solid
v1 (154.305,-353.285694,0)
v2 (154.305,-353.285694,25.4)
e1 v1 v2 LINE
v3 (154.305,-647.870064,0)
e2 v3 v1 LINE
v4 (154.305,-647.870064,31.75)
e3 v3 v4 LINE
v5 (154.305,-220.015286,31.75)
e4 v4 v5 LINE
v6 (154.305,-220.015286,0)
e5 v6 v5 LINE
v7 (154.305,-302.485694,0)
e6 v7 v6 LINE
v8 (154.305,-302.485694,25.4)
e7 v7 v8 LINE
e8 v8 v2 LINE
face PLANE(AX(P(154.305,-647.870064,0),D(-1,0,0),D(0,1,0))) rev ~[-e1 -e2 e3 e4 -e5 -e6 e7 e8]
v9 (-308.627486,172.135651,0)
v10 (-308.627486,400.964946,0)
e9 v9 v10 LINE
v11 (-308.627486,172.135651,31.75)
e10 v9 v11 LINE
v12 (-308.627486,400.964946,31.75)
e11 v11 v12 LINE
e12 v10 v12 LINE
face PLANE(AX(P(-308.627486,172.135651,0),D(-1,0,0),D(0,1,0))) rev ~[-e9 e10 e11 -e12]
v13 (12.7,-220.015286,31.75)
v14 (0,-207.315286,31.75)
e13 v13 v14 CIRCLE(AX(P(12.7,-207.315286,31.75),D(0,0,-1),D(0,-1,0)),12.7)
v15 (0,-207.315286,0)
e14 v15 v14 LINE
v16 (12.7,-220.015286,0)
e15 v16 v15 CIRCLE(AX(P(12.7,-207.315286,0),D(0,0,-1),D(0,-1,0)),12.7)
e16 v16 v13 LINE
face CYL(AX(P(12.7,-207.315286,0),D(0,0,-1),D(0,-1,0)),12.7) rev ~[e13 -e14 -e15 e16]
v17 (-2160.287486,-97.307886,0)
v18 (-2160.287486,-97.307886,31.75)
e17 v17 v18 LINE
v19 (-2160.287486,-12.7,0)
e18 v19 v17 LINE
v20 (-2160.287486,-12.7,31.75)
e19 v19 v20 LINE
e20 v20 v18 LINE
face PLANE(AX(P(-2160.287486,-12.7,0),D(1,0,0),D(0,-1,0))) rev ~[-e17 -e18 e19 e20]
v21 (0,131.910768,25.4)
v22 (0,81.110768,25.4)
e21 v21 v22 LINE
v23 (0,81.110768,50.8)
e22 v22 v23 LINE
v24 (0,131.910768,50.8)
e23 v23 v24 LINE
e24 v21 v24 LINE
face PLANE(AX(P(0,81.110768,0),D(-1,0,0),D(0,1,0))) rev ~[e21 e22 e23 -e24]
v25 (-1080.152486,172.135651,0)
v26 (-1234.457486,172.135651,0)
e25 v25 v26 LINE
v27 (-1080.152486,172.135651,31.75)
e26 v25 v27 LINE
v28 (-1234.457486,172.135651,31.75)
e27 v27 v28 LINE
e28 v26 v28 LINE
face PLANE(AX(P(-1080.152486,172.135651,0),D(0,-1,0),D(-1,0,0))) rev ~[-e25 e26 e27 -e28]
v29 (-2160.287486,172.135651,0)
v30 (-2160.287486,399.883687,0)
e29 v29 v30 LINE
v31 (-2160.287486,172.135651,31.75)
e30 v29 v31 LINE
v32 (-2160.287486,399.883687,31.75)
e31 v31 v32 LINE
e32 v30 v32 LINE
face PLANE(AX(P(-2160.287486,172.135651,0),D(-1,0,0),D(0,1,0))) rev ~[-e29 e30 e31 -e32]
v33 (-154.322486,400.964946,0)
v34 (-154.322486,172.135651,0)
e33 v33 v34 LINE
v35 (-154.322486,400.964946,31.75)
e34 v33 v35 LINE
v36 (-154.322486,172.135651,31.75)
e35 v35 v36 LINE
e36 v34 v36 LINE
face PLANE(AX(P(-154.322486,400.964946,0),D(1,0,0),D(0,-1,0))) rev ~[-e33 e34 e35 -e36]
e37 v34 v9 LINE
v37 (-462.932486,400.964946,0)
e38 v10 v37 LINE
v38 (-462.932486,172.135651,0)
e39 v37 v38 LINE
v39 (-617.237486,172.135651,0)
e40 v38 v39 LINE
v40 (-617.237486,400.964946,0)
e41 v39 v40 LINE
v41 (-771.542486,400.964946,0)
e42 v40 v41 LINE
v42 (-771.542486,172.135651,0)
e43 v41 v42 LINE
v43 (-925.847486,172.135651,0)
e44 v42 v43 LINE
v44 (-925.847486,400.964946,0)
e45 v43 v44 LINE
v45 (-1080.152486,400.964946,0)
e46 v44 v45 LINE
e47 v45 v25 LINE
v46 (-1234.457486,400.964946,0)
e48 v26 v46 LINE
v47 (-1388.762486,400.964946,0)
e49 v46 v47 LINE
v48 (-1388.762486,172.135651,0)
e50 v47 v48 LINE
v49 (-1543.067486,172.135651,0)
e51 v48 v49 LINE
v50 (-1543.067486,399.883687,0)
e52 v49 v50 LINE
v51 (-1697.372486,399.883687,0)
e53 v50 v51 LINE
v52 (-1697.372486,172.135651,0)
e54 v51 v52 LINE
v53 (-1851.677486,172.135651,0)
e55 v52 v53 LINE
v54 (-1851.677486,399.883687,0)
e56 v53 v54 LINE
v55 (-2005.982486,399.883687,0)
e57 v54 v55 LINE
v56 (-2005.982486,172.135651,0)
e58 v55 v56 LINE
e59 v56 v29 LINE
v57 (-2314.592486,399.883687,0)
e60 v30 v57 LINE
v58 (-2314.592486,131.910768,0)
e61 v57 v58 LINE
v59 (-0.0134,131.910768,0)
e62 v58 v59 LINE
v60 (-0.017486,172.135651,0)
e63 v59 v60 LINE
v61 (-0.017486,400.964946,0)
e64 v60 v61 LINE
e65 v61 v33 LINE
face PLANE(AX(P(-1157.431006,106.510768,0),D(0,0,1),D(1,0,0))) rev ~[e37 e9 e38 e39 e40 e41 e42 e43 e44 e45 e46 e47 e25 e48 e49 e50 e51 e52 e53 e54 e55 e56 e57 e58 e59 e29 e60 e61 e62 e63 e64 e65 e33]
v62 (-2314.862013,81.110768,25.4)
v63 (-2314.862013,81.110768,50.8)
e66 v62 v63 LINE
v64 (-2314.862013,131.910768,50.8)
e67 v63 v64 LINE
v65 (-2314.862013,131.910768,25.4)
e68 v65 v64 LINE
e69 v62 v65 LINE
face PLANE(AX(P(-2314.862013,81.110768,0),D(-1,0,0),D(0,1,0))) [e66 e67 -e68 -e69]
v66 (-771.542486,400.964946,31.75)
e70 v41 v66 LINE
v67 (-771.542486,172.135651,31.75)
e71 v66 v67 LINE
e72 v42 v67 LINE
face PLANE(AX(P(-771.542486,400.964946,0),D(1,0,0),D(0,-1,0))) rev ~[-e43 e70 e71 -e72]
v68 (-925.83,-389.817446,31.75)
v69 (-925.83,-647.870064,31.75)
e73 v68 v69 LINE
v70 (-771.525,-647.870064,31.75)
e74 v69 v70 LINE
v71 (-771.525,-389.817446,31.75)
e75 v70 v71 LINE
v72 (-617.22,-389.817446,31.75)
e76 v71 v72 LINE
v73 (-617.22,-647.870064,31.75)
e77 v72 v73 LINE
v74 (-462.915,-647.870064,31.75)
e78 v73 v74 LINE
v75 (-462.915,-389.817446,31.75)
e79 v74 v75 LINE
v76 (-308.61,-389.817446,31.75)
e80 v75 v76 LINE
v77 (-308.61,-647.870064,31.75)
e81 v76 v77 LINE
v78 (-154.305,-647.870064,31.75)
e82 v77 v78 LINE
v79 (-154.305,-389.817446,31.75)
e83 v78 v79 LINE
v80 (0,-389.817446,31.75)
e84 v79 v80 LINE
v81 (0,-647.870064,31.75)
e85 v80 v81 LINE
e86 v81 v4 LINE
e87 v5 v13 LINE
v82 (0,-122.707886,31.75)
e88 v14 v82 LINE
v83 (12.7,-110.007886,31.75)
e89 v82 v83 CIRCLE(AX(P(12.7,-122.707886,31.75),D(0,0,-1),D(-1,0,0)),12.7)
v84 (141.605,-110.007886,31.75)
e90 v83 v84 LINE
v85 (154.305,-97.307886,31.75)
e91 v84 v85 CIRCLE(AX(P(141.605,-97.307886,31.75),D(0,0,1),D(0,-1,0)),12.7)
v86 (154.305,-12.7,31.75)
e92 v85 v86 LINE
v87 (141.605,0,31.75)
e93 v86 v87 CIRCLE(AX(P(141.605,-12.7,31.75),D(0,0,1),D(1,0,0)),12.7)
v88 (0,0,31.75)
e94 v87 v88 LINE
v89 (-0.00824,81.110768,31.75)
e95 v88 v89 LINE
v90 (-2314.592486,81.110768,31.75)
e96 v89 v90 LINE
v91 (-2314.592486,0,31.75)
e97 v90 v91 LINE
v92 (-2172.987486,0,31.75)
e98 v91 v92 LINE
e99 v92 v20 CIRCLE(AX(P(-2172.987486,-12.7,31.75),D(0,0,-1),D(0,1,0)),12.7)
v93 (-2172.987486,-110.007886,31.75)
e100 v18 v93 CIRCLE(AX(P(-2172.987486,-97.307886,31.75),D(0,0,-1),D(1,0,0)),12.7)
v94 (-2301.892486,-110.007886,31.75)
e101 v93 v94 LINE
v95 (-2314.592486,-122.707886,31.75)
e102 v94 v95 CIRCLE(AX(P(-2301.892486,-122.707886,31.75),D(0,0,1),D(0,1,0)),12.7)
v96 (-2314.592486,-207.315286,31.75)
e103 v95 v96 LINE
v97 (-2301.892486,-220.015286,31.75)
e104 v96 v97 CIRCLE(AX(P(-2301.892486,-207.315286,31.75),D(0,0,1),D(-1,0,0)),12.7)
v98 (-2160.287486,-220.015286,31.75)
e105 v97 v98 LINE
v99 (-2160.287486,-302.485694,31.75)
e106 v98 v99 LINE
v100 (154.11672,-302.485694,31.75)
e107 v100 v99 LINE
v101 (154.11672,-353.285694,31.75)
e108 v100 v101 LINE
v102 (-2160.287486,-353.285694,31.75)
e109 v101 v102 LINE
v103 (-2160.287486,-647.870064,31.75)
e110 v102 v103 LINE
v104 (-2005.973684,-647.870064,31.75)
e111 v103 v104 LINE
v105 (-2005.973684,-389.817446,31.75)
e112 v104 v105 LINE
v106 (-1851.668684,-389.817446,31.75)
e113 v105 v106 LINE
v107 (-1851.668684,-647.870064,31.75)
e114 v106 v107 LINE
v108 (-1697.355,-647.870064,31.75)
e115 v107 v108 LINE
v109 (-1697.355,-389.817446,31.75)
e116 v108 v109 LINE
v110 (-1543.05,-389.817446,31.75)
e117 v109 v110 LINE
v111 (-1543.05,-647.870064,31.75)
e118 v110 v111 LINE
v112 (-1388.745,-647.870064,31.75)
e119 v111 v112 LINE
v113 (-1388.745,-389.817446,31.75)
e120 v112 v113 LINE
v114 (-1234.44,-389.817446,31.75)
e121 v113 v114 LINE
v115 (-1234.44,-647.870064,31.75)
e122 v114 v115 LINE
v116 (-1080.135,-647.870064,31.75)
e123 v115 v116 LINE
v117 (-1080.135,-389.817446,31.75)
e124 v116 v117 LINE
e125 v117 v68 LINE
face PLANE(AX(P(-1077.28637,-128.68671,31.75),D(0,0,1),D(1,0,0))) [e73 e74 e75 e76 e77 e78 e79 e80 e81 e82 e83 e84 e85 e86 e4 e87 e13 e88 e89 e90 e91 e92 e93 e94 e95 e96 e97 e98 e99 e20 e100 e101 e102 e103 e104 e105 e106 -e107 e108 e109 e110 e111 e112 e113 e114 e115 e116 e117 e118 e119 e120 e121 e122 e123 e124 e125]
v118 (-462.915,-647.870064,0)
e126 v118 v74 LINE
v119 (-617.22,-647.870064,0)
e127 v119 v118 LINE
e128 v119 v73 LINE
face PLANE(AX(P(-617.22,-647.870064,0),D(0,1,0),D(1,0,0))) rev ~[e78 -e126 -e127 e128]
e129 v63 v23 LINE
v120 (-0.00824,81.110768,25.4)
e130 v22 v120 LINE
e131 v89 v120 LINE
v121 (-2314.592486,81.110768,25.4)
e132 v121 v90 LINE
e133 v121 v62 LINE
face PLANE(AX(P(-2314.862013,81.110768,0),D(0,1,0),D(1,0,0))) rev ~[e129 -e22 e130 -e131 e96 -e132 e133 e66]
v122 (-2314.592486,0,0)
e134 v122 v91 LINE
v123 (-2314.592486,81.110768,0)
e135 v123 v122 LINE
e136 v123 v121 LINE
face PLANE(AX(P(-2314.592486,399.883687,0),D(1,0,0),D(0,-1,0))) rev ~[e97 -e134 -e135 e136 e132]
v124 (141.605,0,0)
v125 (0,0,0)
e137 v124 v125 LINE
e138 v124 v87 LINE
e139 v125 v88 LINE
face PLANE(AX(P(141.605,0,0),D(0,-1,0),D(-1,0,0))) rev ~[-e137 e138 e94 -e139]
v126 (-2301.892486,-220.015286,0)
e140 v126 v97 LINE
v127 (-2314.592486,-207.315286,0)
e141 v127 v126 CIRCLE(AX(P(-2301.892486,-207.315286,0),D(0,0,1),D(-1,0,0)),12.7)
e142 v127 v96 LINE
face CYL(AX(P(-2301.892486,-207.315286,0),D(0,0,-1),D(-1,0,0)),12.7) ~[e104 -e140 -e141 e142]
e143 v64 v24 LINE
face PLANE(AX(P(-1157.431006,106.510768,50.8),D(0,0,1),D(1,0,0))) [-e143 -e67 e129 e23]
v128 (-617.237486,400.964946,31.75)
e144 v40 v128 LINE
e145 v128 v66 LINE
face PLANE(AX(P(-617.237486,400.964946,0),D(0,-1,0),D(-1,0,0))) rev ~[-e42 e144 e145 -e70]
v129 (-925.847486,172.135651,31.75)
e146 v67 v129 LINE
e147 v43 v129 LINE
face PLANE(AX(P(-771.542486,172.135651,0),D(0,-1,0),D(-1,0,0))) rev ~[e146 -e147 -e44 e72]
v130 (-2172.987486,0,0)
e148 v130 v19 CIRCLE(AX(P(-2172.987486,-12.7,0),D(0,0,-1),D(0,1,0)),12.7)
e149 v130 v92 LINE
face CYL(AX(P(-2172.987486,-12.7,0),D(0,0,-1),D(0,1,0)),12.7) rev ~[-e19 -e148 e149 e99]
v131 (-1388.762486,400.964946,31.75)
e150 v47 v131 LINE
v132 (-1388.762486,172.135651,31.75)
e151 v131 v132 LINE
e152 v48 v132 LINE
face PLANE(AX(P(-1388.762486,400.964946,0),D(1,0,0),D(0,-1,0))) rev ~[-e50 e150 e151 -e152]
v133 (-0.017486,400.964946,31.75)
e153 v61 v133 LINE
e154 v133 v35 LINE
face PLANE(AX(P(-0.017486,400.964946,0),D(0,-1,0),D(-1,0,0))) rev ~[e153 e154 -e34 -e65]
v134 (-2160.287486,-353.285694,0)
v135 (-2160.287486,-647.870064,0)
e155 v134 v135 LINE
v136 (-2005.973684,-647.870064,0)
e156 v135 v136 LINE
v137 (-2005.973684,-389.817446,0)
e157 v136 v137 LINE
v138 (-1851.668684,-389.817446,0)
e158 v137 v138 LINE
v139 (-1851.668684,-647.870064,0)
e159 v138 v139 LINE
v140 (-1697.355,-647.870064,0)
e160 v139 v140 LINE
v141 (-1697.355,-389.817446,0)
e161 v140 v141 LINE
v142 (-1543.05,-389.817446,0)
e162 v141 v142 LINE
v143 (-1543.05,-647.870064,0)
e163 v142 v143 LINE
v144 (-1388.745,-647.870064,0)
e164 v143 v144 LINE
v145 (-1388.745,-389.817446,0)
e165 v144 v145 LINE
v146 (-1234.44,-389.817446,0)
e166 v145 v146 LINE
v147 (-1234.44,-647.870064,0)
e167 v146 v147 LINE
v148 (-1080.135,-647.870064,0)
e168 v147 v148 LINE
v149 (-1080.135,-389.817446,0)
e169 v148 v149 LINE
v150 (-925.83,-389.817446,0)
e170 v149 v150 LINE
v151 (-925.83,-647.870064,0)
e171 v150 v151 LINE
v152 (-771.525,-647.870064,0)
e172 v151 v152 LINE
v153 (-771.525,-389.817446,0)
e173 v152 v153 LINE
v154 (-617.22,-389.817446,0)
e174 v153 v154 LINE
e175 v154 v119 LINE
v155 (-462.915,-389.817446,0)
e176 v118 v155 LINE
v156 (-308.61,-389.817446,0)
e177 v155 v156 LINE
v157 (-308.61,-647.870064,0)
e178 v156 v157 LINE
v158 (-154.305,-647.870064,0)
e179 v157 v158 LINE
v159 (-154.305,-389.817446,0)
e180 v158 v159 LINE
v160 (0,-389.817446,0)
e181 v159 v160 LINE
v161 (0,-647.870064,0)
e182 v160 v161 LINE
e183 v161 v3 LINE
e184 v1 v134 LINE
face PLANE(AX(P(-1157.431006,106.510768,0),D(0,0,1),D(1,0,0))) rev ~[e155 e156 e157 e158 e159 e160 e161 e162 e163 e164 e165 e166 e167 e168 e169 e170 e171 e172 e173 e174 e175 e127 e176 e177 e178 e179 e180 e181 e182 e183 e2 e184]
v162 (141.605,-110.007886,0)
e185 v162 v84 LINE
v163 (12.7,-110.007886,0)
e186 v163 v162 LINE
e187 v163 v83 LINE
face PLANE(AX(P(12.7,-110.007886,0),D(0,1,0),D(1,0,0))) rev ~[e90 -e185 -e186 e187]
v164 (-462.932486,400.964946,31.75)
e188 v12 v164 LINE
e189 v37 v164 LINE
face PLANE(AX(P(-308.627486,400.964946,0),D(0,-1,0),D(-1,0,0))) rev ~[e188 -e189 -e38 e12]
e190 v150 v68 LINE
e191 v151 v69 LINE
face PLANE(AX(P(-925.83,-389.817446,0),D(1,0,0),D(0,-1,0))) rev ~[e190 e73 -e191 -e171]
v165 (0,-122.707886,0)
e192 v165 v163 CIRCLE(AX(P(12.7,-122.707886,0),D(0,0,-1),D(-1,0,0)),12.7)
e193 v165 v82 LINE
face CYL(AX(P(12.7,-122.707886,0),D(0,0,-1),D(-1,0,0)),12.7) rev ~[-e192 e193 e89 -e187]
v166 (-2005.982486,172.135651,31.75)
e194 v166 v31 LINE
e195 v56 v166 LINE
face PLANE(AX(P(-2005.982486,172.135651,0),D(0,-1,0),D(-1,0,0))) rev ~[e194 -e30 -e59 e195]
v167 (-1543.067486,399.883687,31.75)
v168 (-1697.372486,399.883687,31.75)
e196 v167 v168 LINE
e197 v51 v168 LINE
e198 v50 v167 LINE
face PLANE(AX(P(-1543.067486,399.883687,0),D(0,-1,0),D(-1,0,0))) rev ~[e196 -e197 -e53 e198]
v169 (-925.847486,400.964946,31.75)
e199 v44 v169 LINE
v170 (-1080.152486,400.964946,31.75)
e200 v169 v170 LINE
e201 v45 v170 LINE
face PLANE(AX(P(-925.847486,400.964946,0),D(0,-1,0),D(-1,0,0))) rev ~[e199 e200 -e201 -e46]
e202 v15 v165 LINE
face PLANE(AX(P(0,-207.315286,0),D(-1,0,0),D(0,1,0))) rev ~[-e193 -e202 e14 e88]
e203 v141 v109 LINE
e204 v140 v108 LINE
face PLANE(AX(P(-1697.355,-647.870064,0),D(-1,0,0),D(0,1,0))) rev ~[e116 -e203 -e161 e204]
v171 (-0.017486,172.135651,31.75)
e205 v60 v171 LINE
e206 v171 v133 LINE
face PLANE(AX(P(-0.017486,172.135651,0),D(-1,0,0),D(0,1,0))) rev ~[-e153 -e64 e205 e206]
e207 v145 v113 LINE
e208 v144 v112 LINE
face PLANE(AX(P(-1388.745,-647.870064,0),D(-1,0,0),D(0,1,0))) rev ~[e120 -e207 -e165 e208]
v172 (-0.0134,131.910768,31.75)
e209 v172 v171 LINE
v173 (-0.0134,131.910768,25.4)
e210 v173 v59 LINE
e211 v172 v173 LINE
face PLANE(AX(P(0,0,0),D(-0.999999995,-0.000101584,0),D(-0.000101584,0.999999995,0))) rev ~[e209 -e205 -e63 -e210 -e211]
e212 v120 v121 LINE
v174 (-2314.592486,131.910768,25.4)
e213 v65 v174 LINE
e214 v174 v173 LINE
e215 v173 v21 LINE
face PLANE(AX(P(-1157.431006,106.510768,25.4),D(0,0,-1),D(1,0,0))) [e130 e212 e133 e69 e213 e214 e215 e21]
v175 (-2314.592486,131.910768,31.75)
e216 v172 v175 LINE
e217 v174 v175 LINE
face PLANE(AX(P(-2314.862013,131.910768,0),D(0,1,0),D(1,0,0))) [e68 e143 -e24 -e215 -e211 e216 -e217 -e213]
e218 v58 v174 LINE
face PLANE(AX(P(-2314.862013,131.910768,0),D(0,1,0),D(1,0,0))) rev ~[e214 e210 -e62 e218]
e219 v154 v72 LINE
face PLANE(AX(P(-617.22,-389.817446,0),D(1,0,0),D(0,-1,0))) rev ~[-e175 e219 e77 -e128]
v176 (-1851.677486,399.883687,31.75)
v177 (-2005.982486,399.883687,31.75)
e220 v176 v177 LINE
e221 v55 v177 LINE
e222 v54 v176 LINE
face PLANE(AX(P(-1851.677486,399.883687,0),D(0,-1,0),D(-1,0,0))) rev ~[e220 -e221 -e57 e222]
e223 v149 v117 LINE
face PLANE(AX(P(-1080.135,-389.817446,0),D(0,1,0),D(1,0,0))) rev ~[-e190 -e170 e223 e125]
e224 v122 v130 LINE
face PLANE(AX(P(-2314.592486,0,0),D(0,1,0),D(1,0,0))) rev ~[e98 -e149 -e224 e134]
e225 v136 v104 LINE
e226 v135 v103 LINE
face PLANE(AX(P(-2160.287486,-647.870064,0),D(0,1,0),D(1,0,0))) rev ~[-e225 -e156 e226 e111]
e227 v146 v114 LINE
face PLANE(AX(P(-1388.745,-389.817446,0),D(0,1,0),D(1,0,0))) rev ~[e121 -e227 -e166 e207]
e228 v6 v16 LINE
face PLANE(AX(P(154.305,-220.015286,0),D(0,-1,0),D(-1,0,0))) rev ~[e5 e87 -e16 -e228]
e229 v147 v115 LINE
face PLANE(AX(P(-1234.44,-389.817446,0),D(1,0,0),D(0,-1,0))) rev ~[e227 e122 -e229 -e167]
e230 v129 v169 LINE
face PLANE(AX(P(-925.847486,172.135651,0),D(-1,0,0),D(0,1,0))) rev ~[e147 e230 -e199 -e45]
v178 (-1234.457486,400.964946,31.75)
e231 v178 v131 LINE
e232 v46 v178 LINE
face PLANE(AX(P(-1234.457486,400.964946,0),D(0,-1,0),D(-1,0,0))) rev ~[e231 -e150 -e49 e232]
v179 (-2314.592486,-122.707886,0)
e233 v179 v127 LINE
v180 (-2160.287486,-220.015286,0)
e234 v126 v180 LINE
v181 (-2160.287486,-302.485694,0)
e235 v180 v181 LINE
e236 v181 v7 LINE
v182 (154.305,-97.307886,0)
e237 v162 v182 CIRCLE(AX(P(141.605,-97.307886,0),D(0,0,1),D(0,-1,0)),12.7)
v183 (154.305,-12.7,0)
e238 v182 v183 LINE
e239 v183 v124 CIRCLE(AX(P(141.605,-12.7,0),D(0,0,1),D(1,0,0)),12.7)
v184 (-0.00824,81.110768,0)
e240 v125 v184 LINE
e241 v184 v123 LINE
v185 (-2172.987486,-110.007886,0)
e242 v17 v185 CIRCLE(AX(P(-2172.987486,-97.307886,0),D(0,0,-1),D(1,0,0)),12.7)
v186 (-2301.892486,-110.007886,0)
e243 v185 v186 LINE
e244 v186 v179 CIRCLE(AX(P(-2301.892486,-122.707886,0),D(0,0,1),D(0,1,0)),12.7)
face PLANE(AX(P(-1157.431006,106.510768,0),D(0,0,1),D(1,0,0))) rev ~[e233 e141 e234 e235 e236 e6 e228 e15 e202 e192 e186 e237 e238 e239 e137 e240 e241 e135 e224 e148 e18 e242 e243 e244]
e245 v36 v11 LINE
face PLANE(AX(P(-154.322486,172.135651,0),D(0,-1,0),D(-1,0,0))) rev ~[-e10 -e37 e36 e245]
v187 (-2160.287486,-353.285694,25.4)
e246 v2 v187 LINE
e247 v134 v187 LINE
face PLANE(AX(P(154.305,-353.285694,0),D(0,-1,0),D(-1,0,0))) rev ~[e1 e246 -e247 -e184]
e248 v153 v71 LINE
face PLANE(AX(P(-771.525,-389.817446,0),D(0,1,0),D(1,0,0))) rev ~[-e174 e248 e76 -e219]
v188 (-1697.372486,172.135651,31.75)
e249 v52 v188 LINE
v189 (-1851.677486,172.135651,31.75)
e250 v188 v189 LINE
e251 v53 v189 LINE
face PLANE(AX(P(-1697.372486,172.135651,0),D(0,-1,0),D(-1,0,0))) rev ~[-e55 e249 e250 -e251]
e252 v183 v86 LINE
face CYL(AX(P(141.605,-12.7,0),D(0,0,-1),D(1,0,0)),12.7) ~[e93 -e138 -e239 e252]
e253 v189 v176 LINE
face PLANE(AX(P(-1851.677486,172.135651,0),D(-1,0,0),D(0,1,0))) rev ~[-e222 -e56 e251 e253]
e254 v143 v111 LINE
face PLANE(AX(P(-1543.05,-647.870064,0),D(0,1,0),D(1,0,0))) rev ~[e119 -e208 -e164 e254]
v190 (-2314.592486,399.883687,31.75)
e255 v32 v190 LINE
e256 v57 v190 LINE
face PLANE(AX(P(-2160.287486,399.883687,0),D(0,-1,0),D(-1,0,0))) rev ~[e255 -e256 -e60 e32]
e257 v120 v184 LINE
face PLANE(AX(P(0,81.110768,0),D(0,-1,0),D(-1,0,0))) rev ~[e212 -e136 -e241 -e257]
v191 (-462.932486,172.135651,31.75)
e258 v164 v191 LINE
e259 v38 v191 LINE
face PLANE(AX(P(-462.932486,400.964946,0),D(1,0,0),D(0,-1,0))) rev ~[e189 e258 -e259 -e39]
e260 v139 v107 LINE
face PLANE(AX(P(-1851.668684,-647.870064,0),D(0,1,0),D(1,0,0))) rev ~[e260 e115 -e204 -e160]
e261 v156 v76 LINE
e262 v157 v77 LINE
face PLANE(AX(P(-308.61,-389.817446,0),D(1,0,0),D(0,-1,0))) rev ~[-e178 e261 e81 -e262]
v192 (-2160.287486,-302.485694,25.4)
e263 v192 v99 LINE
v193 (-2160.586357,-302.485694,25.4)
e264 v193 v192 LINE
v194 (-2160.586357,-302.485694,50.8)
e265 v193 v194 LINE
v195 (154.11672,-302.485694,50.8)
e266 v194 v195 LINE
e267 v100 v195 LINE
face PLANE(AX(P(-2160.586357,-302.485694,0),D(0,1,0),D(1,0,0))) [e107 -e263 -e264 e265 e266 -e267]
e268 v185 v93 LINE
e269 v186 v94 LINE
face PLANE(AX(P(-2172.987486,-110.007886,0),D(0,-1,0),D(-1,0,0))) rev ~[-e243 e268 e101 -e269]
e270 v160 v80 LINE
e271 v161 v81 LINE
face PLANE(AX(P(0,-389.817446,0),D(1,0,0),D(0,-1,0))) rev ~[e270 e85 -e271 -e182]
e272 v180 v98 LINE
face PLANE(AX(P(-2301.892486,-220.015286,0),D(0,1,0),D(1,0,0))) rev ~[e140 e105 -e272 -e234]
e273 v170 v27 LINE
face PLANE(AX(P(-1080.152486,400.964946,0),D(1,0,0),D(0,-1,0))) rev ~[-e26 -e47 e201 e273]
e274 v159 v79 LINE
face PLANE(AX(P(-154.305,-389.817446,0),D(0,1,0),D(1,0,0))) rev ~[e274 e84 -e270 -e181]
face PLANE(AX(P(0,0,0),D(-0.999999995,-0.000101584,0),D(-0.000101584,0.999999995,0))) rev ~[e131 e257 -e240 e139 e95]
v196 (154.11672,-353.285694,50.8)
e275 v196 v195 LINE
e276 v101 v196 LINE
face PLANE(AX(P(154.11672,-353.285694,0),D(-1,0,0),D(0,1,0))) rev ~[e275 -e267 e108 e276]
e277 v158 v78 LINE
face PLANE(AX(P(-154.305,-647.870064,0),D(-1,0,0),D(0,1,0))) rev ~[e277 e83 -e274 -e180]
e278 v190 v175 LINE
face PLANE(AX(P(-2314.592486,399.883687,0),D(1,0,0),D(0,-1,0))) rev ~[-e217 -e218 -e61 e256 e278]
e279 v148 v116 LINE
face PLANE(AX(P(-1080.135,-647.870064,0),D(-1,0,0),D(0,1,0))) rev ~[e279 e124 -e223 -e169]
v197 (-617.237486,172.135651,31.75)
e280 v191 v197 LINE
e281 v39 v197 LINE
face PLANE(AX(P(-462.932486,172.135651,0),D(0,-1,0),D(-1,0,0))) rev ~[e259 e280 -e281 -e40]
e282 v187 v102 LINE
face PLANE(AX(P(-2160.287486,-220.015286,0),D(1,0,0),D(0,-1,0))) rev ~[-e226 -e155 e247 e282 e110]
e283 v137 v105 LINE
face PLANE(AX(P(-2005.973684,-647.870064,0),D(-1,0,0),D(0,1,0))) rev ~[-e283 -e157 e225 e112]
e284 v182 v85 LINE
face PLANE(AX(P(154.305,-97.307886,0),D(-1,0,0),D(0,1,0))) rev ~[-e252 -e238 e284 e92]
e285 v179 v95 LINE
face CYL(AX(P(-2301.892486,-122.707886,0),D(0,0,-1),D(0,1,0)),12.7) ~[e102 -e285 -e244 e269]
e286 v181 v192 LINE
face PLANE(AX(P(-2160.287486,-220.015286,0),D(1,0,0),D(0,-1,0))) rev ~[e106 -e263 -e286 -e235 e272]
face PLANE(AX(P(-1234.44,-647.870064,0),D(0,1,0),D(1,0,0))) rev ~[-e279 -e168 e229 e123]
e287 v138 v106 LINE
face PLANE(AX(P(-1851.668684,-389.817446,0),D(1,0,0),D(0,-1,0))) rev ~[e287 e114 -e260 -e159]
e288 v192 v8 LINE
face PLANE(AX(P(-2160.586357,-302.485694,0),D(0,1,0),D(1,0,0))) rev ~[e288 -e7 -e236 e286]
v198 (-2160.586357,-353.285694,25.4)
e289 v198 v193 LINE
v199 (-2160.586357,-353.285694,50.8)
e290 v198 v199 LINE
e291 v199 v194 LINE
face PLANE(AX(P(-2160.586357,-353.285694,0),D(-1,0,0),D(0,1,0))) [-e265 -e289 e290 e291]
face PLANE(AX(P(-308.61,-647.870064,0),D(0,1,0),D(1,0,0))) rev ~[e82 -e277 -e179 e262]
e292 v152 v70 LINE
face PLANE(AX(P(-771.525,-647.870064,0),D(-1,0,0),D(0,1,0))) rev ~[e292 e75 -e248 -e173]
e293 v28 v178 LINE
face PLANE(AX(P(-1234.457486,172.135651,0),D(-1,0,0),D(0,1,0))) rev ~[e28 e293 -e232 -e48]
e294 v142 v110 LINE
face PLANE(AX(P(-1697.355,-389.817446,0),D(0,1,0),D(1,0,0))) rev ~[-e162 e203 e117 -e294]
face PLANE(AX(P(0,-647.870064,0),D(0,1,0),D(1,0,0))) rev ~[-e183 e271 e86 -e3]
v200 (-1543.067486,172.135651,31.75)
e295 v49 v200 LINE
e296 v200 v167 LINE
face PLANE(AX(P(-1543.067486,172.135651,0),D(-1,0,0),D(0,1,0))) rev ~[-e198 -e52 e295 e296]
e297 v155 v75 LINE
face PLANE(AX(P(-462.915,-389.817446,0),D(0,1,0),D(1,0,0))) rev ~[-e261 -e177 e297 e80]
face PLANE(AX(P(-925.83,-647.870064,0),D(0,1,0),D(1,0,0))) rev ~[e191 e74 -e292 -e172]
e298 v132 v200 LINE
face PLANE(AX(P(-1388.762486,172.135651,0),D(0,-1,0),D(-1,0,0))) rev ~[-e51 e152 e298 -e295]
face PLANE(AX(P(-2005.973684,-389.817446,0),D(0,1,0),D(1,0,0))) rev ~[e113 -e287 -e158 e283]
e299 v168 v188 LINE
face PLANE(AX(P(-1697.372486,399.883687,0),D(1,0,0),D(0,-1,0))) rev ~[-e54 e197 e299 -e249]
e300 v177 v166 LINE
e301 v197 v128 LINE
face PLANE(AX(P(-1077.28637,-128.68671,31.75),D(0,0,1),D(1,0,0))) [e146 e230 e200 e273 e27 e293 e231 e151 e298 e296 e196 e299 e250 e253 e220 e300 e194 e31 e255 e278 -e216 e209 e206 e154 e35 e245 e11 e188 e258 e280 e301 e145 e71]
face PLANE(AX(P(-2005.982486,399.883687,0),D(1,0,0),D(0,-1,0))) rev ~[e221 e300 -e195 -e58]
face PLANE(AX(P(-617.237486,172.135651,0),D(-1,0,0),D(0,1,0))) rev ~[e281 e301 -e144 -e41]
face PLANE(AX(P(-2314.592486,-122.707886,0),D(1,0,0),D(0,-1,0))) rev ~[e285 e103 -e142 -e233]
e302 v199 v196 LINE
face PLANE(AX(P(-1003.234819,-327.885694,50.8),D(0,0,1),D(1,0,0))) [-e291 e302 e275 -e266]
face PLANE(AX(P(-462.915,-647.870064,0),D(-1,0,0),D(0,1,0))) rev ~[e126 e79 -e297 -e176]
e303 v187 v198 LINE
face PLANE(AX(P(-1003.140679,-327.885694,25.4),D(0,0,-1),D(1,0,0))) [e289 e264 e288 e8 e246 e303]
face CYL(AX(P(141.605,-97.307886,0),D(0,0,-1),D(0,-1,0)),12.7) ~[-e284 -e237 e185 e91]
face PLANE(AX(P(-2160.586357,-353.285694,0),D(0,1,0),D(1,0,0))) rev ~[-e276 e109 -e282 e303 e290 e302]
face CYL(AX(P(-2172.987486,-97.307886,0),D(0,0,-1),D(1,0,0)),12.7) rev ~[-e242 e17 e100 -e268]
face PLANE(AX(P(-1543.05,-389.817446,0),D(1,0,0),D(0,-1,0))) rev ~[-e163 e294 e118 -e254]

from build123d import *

# Parameters (mm, degrees)
F2_DEPTH = 31.75
F1_W     = 2314.8620128632
F1_H     = 50.8
F1_W_2   = 2314.7030770779
F3_DEPTH = 50.8
F5_DEPTH = 25.4


with BuildPart() as f2:
    # F0 (on Top) → F2 (new body)
    with BuildSketch(Plane.XY):
        with BuildLine():
            Line((141.605, 0), (0, 0))
            Line((0, 0), (-0.0174862289, 172.1356511116))
            Line((-0.0174862289, 172.1356511116), (-0.0174862289, 400.9649455547))
            Line((-0.0174862289, 400.9649455547), (-154.3224862289, 400.9649455547))
            Line((-154.3224862289, 400.9649455547), (-154.3224862289, 172.1356511116))
            Line((-154.3224862289, 172.1356511116), (-308.6274862289, 172.1356511116))
            Line((-308.6274862289, 172.1356511116), (-308.6274862289, 400.9649455547))
            Line((-308.6274862289, 400.9649455547), (-462.9324862289, 400.9649455547))
            Line((-462.9324862289, 400.9649455547), (-462.9324862289, 172.1356511116))
            Line((-462.9324862289, 172.1356511116), (-617.2374862289, 172.1356511116))
            Line((-617.2374862289, 172.1356511116), (-617.2374862289, 400.9649455547))
            Line((-617.2374862289, 400.9649455547), (-771.5424862289, 400.9649455547))
            Line((-771.5424862289, 400.9649455547), (-771.5424862289, 172.1356511116))
            Line((-771.5424862289, 172.1356511116), (-925.8474862289, 172.1356511116))
            Line((-925.8474862289, 172.1356511116), (-925.8474862289, 400.9649455547))
            Line((-925.8474862289, 400.9649455547), (-1080.1524862289, 400.9649455547))
            Line((-1080.1524862289, 400.9649455547), (-1080.1524862289, 172.1356511116))
            Line((-1080.1524862289, 172.1356511116), (-1234.4574862289, 172.1356511116))
            Line((-1234.4574862289, 172.1356511116), (-1234.4574862289, 400.9649455547))
            Line((-1234.4574862289, 400.9649455547), (-1388.7624862289, 400.9649455547))
            Line((-1388.7624862289, 400.9649455547), (-1388.7624862289, 172.1356511116))
            Line((-1388.7624862289, 172.1356511116), (-1543.0674862289, 172.1356511116))
            Line((-1543.0674862289, 172.1356511116), (-1543.0674862289, 399.8836874962))
            Line((-1543.0674862289, 399.8836874962), (-1697.3724862289, 399.8836874962))
            Line((-1697.3724862289, 399.8836874962), (-1697.3724862289, 172.1356511116))
            Line((-1697.3724862289, 172.1356511116), (-1851.6774862289, 172.1356511116))
            Line((-1851.6774862289, 172.1356511116), (-1851.6774862289, 399.8836874962))
            Line((-1851.6774862289, 399.8836874962), (-2005.9824862289, 399.8836874962))
            Line((-2005.9824862289, 399.8836874962), (-2005.9824862289, 172.1356511116))
            Line((-2005.9824862289, 172.1356511116), (-2160.2874862289, 172.1356511116))
            Line((-2160.2874862289, 172.1356511116), (-2160.2874862289, 399.8836874962))
            Line((-2160.2874862289, 399.8836874962), (-2314.5924862289, 399.8836874962))
            Line((-2314.5924862289, 399.8836874962), (-2314.5924862289, 0))
            Line((-2314.5924862289, 0), (-2172.9874862289, 0))
            ThreePointArc((-2172.9874862289, 0), (-2164.0072301079, -3.7197438789), (-2160.2874862289, -12.7))
            Line((-2160.2874862289, -12.7), (-2160.2874862289, -97.307886156))
            ThreePointArc((-2160.2874862289, -97.307886156), (-2164.0072301079, -106.2881422771), (-2172.9874862289, -110.007886156))
            Line((-2172.9874862289, -110.007886156), (-2301.8924862289, -110.007886156))
            ThreePointArc((-2301.8924862289, -110.007886156), (-2310.87274235, -113.7276300349), (-2314.5924862289, -122.707886156))
            Line((-2314.5924862289, -122.707886156), (-2314.5924862289, -207.315286156))
            ThreePointArc((-2314.5924862289, -207.315286156), (-2310.87274235, -216.2955422771), (-2301.8924862289, -220.015286156))
            Line((-2301.8924862289, -220.015286156), (-2160.2874862289, -220.015286156))
            Line((-2160.2874862289, -220.015286156), (-2160.2874862289, -647.8700637817))
            Line((-2160.2874862289, -647.8700637817), (-2005.9736835098, -647.8700637817))
            Line((-2005.9736835098, -647.8700637817), (-2005.9736835098, -389.8174464703))
            Line((-2005.9736835098, -389.8174464703), (-1851.6686835098, -389.8174464703))
            Line((-1851.6686835098, -389.8174464703), (-1851.6686835098, -647.8700637817))
            Line((-1851.6686835098, -647.8700637817), (-1697.355, -647.8700637817))
            Line((-1697.355, -647.8700637817), (-1697.355, -389.8174464703))
            Line((-1697.355, -389.8174464703), (-1543.05, -389.8174464703))
            Line((-1543.05, -389.8174464703), (-1543.05, -647.8700637817))
            Line((-1543.05, -647.8700637817), (-1388.745, -647.8700637817))
            Line((-1388.745, -647.8700637817), (-1388.745, -389.8174464703))
            Line((-1388.745, -389.8174464703), (-1234.44, -389.8174464703))
            Line((-1234.44, -389.8174464703), (-1234.44, -647.8700637817))
            Line((-1234.44, -647.8700637817), (-1080.135, -647.8700637817))
            Line((-1080.135, -647.8700637817), (-1080.135, -389.8174464703))
            Line((-1080.135, -389.8174464703), (-925.83, -389.8174464703))
            Line((-925.83, -389.8174464703), (-925.83, -647.8700637817))
            Line((-925.83, -647.8700637817), (-771.525, -647.8700637817))
            Line((-771.525, -647.8700637817), (-771.525, -389.8174464703))
            Line((-771.525, -389.8174464703), (-617.22, -389.8174464703))
            Line((-617.22, -389.8174464703), (-617.22, -647.8700637817))
            Line((-617.22, -647.8700637817), (-462.915, -647.8700637817))
            Line((-462.915, -647.8700637817), (-462.915, -389.8174464703))
            Line((-462.915, -389.8174464703), (-308.61, -389.8174464703))
            Line((-308.61, -389.8174464703), (-308.61, -647.8700637817))
            Line((-308.61, -647.8700637817), (-154.305, -647.8700637817))
            Line((-154.305, -647.8700637817), (-154.305, -389.8174464703))
            Line((-154.305, -389.8174464703), (0, -389.8174464703))
            Line((0, -389.8174464703), (0, -647.8700637817))
            Line((0, -647.8700637817), (154.305, -647.8700637817))
            Line((154.305, -647.8700637817), (154.305, -220.015286156))
            Line((154.305, -220.015286156), (12.7, -220.015286156))
            ThreePointArc((12.7, -220.015286156), (3.7197438789, -216.2955422771), (0, -207.315286156))
            Line((0, -207.315286156), (0, -122.707886156))
            ThreePointArc((0, -122.707886156), (3.7197438789, -113.7276300349), (12.7, -110.007886156))
            Line((12.7, -110.007886156), (141.605, -110.007886156))
            ThreePointArc((141.605, -110.007886156), (150.5852561211, -106.2881422771), (154.305, -97.307886156))
            Line((154.305, -97.307886156), (154.305, -12.7))
            ThreePointArc((154.305, -12.7), (150.5852561211, -3.7197438789), (141.605, 0))
        make_face()
    extrude(amount=F2_DEPTH)

    # F1 (on face) → F3 (join)
    with BuildSketch(Plane.XY):
        with Locations((-1157.4310064316, 106.5107680202)):
            Rectangle(F1_W, F1_H)
        with Locations((-1003.2348185778, -327.8856937885)):
            Rectangle(F1_W_2, F1_H)
    extrude(amount=F3_DEPTH)

    # F4 (on face) → F5 (cut)
    with BuildSketch(Plane(origin=(0, 0, 0), x_dir=(1, 0, 0), z_dir=(0, 0, -1))):
        Polygon((-2314.8620128632, -131.9107680202), (-2314.5924862289, -131.9107680202), (-0.0134000242, -131.9107680202), (0, -131.9107680202), (0, -81.1107680202), (-0.0082395567, -81.1107680202), (-2314.5924862289, -81.1107680202), (-2314.8620128632, -81.1107680202), align=None)
        Polygon((-2160.5863571167, 302.4856937885), (-2160.2874862289, 302.4856937885), (154.305, 302.4856937885), (154.305, 353.2856937885), (-2160.2874862289, 353.2856937885), (-2160.5863571167, 353.2856937885), align=None)
    extrude(amount=-F5_DEPTH, mode=Mode.SUBTRACT)


solid = f2.part
